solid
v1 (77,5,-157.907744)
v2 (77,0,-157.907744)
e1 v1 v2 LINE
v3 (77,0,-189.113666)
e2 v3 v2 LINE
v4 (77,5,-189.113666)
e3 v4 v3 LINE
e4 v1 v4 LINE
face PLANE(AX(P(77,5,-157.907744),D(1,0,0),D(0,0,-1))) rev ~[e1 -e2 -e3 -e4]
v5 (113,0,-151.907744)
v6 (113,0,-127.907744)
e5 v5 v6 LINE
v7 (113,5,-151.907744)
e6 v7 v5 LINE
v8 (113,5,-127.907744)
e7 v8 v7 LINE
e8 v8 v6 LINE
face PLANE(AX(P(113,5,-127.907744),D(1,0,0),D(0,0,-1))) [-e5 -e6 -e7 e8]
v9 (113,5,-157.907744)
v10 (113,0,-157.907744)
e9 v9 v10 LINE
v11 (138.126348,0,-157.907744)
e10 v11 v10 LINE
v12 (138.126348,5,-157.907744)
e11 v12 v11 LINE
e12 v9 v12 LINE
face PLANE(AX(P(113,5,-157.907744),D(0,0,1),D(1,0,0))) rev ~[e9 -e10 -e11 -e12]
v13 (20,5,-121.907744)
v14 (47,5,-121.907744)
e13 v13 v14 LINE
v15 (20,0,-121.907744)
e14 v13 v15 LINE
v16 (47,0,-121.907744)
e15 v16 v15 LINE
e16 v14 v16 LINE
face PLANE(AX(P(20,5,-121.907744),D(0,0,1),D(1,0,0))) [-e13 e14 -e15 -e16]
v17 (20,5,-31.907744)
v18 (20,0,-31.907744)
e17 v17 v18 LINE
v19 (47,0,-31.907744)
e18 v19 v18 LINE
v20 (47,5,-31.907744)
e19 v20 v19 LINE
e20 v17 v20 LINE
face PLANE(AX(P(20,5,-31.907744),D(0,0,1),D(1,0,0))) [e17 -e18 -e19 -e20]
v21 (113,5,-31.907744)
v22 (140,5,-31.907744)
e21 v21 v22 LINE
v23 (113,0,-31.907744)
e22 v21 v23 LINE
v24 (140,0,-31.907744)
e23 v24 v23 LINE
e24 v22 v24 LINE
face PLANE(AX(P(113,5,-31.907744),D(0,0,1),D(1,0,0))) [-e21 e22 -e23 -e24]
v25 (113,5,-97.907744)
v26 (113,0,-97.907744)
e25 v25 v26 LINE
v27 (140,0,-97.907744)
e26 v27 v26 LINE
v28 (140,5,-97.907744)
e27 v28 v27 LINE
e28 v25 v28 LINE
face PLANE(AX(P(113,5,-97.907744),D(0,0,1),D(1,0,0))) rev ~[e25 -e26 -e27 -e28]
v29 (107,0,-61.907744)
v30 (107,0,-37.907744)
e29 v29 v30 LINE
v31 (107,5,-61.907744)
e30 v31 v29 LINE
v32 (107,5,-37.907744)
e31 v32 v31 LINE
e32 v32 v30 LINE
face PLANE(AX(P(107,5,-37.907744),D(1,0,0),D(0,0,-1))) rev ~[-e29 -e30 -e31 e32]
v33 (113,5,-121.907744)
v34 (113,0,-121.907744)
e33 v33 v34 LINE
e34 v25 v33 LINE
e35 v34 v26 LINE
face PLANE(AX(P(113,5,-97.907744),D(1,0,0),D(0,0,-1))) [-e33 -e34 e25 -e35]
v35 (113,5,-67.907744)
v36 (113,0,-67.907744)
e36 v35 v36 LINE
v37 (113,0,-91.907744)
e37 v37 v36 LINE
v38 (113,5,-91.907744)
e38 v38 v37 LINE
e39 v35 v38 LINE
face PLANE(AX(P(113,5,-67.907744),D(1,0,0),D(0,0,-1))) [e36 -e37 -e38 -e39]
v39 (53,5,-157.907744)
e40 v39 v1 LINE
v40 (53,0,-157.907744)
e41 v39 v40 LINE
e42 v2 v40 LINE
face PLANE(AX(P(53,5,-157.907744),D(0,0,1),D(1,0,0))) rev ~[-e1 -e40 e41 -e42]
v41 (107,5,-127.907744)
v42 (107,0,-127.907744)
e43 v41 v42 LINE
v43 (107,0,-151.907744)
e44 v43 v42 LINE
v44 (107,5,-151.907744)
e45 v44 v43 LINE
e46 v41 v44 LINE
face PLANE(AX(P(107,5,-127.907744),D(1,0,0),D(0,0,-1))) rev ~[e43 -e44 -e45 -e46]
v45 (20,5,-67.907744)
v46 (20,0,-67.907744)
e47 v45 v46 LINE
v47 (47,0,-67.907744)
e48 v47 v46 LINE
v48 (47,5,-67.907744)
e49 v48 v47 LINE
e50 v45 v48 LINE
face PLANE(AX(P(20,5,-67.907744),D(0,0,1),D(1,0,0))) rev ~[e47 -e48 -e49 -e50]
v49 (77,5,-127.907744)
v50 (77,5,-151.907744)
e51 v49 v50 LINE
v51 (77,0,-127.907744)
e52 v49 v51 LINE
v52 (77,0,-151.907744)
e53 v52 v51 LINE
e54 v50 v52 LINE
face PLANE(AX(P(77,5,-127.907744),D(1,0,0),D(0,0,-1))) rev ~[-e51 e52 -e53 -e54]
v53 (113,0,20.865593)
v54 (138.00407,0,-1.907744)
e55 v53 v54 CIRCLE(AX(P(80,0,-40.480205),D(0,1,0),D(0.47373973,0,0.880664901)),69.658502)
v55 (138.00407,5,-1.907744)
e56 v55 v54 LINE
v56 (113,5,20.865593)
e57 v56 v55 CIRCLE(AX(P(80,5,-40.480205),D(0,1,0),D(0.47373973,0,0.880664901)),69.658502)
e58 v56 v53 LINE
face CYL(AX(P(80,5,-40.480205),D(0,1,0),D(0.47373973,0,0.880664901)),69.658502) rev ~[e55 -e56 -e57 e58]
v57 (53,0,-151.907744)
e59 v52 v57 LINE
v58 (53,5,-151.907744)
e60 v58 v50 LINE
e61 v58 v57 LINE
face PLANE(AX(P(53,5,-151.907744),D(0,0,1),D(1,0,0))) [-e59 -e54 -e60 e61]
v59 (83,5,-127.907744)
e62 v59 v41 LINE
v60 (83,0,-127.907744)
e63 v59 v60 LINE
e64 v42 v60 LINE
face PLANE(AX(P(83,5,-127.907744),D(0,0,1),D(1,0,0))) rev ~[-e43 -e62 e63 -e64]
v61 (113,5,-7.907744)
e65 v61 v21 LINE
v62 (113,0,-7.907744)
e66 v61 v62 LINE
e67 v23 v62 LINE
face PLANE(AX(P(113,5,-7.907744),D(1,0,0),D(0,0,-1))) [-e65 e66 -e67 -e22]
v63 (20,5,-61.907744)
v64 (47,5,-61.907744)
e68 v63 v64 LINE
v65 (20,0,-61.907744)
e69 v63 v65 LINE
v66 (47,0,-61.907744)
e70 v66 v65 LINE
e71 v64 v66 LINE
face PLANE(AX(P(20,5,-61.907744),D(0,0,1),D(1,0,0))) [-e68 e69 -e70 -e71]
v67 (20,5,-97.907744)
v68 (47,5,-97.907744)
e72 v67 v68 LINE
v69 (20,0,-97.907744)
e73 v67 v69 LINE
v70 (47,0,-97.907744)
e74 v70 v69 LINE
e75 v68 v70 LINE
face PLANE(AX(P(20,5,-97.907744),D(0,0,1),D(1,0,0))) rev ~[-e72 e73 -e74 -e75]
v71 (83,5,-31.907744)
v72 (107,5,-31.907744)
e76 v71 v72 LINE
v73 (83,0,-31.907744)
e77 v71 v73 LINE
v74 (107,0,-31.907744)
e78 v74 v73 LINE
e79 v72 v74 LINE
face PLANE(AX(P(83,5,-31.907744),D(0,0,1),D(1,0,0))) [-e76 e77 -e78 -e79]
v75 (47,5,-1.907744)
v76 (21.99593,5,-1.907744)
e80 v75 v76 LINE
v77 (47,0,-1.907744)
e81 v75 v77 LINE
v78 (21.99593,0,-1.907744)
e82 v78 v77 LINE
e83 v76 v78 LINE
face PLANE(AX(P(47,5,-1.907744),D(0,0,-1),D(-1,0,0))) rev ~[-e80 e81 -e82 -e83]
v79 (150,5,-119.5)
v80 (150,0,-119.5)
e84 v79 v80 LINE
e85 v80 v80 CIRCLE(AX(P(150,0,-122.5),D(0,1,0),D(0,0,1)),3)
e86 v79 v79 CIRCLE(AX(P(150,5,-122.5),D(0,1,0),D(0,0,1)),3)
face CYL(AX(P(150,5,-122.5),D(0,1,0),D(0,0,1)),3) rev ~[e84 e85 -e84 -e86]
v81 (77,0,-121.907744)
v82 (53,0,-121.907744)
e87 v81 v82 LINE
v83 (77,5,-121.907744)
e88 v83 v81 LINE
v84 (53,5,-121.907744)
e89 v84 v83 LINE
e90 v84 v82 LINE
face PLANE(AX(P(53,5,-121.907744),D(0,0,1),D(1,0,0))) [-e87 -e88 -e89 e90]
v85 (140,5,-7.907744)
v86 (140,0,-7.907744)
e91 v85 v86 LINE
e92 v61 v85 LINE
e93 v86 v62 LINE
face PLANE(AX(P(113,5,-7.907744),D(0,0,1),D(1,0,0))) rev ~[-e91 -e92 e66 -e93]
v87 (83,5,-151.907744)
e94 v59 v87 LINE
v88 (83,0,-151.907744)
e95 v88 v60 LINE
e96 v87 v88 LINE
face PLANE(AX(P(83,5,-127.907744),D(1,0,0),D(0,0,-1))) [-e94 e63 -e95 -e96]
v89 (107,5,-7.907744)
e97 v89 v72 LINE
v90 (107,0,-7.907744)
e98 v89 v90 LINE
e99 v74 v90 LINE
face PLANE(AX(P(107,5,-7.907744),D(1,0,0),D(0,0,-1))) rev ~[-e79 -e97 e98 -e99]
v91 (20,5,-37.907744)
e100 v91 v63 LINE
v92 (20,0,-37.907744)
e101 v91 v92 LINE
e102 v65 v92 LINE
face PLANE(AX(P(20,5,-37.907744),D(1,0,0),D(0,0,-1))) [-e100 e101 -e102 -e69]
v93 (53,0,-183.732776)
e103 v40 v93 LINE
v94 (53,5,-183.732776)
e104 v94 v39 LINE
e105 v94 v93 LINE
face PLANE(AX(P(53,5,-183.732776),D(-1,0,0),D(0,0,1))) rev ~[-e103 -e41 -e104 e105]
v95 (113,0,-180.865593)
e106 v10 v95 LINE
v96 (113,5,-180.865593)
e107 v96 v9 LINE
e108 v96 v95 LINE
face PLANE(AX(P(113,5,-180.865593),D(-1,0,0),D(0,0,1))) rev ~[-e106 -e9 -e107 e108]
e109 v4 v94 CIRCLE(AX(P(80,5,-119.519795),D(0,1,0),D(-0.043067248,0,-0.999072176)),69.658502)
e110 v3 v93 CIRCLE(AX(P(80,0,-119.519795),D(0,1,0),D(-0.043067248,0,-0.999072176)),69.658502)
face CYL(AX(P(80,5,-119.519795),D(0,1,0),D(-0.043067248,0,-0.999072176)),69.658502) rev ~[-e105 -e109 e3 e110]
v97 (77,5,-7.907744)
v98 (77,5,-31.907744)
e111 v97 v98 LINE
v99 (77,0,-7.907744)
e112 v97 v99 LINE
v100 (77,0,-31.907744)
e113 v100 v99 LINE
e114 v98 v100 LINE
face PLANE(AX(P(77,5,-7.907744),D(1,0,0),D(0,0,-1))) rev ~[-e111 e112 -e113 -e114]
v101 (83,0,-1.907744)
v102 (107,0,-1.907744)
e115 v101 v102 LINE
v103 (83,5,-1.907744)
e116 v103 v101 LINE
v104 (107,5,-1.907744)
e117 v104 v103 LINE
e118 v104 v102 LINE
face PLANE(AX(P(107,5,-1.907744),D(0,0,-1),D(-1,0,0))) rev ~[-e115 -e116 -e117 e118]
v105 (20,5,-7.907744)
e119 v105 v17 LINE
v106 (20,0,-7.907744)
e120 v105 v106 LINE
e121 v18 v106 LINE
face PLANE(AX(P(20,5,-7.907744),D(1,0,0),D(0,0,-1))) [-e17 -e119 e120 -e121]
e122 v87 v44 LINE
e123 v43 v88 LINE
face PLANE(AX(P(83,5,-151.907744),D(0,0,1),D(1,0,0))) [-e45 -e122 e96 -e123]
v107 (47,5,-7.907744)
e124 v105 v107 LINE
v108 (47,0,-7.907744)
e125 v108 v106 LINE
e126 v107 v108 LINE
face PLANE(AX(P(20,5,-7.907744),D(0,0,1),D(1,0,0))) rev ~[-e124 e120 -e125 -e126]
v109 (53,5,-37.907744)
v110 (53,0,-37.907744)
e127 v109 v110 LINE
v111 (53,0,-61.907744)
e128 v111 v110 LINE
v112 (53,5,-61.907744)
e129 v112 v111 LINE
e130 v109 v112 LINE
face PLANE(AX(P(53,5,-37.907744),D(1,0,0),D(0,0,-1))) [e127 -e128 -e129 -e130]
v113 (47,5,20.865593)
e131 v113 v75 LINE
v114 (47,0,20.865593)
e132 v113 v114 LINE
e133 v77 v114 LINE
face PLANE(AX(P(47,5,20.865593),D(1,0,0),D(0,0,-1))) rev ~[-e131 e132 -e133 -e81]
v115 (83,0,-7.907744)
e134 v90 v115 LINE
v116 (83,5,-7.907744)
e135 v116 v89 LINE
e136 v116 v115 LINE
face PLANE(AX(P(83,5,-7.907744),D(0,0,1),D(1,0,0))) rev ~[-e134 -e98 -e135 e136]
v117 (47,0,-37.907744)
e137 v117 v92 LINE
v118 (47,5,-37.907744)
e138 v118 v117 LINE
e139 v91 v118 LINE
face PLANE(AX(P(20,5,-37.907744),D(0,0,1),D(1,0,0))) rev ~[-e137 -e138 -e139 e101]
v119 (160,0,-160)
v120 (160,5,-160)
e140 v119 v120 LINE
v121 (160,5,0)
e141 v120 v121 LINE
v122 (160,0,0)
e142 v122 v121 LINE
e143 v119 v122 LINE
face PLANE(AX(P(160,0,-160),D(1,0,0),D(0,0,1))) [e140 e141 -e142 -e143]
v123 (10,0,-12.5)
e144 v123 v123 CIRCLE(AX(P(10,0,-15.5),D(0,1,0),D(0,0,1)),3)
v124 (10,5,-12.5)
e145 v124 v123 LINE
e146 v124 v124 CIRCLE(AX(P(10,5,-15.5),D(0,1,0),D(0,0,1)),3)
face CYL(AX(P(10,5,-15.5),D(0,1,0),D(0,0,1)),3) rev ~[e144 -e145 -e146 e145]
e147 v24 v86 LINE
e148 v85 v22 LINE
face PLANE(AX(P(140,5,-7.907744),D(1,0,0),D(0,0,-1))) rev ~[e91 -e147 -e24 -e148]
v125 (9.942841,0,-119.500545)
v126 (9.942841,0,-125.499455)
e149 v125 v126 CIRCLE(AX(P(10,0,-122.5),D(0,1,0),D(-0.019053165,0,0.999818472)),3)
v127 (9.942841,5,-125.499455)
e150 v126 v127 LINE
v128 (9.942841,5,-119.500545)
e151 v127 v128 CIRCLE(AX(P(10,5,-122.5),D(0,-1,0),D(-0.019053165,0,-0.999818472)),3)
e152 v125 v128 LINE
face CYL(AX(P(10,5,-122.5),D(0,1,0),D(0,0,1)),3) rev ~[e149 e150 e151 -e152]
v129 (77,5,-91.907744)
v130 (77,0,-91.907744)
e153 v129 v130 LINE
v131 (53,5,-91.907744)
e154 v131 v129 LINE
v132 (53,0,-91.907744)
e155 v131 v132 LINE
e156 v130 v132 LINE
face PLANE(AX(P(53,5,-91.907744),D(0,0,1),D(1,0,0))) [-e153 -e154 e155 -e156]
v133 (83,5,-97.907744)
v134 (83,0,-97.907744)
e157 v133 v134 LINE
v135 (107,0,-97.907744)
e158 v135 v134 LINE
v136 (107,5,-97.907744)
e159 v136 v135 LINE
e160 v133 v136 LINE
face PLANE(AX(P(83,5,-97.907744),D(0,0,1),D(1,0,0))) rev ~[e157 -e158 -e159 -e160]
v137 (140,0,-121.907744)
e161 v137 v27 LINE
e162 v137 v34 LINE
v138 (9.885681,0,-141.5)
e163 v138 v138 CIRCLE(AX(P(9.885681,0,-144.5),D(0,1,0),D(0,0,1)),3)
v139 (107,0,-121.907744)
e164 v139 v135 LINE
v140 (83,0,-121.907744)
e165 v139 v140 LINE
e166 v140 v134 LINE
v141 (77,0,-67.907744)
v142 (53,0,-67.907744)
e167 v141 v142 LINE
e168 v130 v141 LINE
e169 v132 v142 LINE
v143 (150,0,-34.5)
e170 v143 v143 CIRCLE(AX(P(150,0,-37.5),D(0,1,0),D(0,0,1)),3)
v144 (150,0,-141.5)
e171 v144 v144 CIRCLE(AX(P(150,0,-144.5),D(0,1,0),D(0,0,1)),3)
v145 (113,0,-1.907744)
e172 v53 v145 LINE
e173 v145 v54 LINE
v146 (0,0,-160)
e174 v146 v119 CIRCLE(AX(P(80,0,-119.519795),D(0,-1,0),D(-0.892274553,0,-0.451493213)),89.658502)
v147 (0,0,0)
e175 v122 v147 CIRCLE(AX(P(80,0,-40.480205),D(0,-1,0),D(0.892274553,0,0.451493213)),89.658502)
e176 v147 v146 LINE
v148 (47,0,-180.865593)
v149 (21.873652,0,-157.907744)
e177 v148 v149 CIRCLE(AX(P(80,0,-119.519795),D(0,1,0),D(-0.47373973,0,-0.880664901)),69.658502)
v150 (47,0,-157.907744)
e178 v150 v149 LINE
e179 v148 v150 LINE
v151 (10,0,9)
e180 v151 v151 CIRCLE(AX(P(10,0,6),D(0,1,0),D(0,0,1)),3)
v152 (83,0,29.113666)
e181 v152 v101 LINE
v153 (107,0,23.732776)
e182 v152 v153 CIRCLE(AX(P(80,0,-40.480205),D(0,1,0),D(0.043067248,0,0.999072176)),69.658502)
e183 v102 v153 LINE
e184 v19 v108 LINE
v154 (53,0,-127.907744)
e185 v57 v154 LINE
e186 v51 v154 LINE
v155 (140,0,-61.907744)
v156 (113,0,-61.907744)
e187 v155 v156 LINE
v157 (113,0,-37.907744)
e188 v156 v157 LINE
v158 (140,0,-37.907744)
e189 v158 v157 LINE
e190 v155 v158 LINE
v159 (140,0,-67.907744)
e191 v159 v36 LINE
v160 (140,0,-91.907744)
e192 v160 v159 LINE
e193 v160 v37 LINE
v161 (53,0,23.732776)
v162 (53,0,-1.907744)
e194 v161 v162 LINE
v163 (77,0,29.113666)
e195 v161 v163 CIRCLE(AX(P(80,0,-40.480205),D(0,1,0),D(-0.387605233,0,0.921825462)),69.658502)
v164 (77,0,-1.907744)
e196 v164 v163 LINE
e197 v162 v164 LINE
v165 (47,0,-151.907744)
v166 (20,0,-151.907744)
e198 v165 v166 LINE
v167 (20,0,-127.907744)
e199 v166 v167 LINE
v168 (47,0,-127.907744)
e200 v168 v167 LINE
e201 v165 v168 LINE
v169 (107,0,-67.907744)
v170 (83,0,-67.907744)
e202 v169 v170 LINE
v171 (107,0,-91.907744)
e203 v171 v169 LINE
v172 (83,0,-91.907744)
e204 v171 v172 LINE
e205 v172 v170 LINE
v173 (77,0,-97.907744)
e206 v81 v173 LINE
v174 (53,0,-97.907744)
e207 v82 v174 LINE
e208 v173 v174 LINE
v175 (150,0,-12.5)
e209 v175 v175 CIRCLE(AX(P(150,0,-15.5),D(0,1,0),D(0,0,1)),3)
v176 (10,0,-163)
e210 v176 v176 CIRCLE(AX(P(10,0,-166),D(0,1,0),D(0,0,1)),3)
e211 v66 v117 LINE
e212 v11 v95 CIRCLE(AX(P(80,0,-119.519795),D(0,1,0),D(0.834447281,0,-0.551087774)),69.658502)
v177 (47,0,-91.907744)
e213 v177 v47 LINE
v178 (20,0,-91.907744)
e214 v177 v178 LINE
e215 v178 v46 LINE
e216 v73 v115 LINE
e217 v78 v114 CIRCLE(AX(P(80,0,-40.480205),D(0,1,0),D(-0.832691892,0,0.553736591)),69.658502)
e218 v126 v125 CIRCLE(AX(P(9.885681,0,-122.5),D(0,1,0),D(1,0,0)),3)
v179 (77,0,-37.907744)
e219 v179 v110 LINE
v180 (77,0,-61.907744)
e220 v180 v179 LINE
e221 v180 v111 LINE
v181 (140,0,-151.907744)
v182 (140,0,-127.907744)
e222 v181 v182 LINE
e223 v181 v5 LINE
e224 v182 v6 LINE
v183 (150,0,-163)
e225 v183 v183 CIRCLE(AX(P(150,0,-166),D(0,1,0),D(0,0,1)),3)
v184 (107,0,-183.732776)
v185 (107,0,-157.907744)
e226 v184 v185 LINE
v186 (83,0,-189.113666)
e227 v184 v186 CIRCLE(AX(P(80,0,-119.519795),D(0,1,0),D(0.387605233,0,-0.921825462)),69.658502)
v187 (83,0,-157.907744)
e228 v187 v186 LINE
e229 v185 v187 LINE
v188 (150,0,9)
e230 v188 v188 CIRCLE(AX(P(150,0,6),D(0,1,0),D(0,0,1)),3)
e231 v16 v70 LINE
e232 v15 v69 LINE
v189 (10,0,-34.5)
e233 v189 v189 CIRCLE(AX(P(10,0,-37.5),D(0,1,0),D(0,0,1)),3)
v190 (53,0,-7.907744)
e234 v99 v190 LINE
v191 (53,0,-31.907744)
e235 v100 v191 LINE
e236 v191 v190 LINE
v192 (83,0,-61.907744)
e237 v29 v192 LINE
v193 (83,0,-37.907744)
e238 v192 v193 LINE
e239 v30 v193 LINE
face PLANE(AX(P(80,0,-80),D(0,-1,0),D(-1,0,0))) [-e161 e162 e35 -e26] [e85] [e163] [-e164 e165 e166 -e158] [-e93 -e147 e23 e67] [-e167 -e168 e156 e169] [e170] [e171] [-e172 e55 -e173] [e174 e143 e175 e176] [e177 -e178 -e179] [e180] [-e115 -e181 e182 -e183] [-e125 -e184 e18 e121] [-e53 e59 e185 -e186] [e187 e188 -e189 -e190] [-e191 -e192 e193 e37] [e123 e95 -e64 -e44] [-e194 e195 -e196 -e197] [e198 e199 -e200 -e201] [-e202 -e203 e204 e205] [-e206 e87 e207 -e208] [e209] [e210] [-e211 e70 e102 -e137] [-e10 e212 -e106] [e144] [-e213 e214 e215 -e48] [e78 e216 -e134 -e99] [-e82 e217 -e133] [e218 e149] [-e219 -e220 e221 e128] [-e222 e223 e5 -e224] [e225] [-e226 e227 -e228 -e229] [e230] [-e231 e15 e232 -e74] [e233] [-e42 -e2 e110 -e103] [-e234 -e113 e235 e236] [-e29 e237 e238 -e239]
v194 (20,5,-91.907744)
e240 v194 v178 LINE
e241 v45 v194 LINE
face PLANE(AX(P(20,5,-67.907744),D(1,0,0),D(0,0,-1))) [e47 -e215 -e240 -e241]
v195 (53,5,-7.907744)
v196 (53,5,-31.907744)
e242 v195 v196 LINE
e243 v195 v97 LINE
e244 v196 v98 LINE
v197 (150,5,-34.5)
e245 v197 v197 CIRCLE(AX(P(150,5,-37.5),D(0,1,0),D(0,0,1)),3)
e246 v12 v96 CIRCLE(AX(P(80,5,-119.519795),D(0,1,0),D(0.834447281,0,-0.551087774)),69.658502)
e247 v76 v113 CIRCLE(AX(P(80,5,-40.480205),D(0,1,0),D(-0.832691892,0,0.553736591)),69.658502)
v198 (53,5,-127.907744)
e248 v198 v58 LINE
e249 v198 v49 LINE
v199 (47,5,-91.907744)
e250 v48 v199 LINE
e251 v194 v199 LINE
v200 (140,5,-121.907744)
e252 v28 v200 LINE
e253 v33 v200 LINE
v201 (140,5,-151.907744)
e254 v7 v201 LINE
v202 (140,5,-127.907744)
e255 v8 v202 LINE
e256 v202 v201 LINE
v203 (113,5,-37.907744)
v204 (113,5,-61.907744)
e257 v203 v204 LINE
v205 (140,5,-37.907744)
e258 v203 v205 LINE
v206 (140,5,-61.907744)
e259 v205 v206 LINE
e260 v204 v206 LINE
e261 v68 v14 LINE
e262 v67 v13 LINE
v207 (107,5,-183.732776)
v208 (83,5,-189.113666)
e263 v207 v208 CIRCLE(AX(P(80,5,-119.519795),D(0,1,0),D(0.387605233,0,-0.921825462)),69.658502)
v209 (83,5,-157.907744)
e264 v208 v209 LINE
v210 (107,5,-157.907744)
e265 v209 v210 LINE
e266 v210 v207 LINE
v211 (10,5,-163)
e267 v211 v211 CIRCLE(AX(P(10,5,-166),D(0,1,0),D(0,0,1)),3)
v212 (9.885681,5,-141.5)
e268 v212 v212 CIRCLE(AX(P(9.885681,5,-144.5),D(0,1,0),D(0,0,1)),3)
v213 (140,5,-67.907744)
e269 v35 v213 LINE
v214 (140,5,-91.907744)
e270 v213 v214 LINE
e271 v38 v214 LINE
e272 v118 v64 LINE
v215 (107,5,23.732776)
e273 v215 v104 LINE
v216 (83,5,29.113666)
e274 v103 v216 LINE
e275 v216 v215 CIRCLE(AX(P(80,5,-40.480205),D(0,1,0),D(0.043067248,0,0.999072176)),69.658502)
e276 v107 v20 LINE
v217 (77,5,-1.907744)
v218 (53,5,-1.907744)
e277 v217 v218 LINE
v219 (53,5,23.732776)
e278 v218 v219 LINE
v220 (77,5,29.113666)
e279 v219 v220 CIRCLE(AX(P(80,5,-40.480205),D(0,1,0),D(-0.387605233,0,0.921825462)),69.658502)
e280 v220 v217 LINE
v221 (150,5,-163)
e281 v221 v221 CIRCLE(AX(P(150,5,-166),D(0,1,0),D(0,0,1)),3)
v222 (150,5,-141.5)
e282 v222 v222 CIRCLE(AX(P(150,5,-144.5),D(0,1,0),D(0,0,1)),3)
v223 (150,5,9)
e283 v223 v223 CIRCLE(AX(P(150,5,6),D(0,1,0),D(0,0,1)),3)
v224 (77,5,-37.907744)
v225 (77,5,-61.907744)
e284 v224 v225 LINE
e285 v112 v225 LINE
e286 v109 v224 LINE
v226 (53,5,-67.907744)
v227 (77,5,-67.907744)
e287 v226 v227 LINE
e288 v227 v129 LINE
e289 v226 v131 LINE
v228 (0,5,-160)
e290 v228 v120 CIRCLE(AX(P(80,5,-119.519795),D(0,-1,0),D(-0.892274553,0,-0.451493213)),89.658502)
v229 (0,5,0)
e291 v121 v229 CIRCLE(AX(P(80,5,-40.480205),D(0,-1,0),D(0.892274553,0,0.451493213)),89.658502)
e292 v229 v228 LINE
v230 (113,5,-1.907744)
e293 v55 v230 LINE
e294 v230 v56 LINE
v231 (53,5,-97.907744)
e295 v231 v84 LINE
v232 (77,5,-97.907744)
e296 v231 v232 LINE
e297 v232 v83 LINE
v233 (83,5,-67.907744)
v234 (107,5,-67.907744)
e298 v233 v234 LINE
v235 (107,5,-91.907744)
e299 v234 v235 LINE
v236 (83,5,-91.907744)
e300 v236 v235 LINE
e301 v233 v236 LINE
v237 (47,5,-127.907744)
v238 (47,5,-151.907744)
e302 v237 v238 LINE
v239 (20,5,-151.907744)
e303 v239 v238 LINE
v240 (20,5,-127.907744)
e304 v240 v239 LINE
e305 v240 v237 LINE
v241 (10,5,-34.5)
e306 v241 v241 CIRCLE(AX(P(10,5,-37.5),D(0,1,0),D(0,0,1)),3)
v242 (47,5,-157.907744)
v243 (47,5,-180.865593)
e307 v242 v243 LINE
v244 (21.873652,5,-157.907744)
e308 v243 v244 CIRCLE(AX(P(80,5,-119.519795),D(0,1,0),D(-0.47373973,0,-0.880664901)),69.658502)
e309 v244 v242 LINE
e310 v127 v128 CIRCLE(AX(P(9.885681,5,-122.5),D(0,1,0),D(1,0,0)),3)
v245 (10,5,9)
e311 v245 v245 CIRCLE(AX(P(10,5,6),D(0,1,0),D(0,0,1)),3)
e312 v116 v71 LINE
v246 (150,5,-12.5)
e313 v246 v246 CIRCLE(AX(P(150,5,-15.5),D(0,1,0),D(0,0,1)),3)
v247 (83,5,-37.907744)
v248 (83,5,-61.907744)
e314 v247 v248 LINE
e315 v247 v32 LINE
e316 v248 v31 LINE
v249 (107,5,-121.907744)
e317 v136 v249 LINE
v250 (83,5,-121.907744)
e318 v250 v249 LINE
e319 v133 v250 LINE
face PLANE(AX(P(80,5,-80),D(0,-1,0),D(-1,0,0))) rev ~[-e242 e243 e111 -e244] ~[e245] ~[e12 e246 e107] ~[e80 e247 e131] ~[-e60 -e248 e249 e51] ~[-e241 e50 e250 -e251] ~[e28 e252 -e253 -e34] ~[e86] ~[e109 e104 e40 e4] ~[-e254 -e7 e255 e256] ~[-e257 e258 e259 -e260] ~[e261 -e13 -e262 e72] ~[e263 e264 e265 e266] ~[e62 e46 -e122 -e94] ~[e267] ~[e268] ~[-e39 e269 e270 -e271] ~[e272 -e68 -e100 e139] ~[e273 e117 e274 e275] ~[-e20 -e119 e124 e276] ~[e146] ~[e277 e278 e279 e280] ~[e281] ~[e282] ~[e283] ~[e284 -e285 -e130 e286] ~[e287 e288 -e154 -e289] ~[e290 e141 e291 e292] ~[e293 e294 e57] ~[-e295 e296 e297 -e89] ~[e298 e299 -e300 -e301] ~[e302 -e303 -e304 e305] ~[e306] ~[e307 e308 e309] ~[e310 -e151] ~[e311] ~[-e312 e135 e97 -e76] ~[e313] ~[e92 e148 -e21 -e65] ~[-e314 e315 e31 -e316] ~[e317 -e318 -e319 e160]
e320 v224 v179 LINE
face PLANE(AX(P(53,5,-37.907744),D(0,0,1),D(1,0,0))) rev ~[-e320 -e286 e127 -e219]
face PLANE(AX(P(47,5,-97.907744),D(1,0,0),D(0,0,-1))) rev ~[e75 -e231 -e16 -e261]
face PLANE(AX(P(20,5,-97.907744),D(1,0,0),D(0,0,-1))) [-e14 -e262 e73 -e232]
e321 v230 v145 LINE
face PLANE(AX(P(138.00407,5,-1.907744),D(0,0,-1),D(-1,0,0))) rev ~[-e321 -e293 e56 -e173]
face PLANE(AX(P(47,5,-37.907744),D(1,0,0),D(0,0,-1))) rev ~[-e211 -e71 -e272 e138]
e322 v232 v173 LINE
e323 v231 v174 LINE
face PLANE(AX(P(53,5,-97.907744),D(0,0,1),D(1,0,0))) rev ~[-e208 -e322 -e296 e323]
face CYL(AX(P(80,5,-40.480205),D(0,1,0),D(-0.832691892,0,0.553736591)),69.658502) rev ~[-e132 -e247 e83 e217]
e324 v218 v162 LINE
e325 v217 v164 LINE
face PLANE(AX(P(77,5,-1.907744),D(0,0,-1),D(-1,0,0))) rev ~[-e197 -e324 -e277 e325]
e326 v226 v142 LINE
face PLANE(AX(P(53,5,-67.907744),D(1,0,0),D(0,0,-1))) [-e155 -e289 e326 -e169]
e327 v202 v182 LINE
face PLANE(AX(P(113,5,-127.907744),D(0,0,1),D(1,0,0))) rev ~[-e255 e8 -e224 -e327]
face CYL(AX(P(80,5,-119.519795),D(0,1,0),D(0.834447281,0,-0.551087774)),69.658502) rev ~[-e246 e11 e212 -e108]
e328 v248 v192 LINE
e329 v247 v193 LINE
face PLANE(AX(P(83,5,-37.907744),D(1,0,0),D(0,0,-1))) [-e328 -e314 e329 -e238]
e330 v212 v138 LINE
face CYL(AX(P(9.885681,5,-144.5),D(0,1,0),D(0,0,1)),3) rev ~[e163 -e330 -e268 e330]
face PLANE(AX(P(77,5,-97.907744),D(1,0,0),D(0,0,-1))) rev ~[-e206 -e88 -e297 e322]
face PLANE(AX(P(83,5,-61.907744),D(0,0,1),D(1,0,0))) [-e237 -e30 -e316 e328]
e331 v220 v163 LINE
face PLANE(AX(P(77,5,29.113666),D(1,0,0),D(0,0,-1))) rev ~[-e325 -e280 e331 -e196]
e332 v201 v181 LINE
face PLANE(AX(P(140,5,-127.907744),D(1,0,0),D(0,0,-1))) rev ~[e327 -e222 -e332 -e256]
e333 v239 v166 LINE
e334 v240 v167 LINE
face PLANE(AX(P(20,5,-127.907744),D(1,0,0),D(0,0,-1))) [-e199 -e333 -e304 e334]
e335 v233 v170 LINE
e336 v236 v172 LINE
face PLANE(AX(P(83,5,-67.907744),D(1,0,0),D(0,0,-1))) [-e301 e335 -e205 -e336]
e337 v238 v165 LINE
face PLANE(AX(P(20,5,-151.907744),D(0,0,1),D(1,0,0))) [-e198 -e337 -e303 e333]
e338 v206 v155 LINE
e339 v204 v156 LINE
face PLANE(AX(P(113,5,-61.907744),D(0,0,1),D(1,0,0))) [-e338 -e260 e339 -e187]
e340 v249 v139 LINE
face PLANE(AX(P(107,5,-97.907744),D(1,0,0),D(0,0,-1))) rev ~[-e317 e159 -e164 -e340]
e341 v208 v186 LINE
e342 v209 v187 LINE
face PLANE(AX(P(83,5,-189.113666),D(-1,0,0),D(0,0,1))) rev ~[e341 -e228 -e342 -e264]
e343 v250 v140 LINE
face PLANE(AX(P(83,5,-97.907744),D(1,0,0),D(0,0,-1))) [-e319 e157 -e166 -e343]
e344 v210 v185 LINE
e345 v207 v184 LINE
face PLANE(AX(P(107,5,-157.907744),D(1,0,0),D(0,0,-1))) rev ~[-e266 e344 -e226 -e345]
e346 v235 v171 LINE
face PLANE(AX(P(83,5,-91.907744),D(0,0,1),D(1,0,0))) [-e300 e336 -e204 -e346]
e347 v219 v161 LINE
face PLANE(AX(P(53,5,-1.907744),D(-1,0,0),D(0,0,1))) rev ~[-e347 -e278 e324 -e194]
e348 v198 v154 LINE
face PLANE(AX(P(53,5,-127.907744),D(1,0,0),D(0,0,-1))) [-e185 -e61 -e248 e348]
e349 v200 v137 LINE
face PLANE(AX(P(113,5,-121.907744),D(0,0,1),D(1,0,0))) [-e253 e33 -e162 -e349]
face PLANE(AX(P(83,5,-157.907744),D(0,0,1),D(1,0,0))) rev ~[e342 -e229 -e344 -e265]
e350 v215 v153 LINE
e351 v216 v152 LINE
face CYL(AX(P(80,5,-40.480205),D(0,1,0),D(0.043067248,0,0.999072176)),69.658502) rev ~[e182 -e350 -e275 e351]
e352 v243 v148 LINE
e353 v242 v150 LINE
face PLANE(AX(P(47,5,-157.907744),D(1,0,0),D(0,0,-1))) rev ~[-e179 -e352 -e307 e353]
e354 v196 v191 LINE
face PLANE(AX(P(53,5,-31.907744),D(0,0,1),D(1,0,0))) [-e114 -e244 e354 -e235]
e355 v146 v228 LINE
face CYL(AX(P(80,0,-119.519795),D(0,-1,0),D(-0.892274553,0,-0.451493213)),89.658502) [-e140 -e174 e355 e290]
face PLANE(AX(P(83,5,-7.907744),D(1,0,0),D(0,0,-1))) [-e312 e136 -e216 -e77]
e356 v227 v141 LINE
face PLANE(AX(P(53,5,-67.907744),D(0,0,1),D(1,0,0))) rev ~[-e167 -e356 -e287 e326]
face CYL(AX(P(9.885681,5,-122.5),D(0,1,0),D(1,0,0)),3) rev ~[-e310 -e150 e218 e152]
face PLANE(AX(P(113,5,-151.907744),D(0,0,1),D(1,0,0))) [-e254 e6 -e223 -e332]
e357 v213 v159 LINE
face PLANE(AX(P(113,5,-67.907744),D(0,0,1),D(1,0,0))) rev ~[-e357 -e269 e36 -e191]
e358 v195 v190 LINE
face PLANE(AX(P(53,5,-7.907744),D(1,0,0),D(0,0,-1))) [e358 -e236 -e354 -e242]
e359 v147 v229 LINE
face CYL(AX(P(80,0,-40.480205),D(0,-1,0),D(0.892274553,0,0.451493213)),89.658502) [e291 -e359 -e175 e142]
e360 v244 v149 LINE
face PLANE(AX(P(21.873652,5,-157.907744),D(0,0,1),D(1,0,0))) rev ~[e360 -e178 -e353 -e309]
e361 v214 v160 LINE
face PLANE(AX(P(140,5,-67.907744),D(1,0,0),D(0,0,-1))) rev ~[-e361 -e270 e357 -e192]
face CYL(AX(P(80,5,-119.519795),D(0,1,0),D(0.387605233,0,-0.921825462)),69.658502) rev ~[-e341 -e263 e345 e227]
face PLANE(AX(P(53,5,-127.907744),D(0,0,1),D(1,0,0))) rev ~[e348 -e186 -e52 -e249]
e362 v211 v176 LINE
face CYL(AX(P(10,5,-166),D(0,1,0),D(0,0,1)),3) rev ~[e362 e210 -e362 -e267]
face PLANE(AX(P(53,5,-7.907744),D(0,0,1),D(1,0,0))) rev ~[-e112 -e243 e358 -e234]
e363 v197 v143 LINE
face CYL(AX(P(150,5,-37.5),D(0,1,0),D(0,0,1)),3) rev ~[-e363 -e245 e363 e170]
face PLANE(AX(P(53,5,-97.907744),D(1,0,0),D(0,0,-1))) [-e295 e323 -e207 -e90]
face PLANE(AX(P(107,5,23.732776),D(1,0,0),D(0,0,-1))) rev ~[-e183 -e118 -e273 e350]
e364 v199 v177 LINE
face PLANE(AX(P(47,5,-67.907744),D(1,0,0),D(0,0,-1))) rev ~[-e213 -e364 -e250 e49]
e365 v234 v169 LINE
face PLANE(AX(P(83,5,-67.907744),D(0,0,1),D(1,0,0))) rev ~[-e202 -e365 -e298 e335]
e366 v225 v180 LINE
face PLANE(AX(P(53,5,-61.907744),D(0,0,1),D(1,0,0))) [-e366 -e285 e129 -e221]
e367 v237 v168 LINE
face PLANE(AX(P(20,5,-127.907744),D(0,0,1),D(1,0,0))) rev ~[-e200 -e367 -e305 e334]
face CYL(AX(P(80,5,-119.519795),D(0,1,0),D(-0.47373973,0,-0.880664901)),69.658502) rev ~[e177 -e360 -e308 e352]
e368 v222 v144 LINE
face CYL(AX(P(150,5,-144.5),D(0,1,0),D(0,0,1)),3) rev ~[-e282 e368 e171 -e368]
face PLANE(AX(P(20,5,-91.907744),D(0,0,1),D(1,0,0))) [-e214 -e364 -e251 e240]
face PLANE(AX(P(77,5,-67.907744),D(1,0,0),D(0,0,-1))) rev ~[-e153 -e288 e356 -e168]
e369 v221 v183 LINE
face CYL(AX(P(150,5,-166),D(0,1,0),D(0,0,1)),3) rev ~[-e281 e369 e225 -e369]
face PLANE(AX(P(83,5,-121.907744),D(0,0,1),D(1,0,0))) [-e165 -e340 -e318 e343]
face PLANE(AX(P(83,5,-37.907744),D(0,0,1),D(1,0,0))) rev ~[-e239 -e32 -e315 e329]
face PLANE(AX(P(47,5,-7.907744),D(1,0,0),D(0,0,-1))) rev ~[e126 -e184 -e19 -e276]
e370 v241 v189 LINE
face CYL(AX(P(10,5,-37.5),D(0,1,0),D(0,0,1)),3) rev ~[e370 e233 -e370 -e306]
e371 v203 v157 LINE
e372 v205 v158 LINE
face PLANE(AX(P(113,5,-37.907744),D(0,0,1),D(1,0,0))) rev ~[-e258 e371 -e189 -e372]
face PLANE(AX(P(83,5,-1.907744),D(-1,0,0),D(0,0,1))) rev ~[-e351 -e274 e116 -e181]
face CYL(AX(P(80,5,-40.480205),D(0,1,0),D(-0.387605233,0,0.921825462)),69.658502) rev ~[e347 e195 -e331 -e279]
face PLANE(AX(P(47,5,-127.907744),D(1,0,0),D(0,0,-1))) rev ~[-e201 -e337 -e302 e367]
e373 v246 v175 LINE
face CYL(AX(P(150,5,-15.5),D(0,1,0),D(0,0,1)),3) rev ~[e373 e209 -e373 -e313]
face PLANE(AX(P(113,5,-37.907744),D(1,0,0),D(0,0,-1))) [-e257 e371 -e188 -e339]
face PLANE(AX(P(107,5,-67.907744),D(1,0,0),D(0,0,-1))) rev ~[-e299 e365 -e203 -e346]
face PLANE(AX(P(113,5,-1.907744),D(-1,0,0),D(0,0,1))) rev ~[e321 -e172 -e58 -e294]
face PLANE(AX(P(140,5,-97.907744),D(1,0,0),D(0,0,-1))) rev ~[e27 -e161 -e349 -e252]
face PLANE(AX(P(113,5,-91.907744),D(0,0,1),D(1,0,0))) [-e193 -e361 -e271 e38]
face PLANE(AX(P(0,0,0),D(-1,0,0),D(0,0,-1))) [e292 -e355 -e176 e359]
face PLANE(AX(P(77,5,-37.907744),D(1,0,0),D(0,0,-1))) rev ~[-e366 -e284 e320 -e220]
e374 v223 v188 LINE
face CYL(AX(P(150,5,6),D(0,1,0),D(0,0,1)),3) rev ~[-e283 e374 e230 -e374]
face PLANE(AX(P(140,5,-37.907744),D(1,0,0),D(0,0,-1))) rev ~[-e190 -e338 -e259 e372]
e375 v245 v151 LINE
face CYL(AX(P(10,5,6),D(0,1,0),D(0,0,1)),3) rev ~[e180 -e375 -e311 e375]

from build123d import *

# Parameters (mm, degrees)
BOSS_EXTRUDE1_DEPTH = 5
SKETCH4_W           = 27
SKETCH4_H           = 24
SKETCH4_W_2         = 24
CUT_EXTRUDE1_DEPTH  = 6
SKETCH5_R           = 3
CUT_EXTRUDE2_DEPTH  = 44
SKETCH6_R           = 3
CUT_EXTRUDE3_DEPTH  = 70
SKETCH7_R           = 3
CUT_EXTRUDE4_DEPTH  = 95


with BuildPart() as part:
    # Sketch1 → Boss-Extrude1 (new body)
    with BuildSketch(Plane(origin=(0, 0, 0), x_dir=(1, 0, 0), z_dir=(0, 1, 0))):
        with BuildLine():
            Line((0, 0), (0, 160))
            ThreePointArc((0, 160), (80, 209.178296965), (160, 160))
            Line((160, 160), (160, 0))
            ThreePointArc((160, 0), (80, -49.178296965), (0, 0))
        make_face()
    extrude(amount=BOSS_EXTRUDE1_DEPTH)

    # Sketch4 → Cut-Extrude1 (cut)
    with BuildSketch(Plane(origin=(0, 5, 0), x_dir=(1, 0, 0), z_dir=(0, 1, 0))):
        with BuildLine():
            Line((21.873652217, 157.907743676), (47, 157.907743676))
            Line((47, 157.907743676), (47, 180.865592736))
            ThreePointArc((47, 180.865592736), (33.013102641, 170.944870409), (21.873652217, 157.907743676))
        make_face()
        with BuildLine():
            Line((53, 157.907743676), (77, 157.907743676))
            Line((77, 157.907743676), (77, 189.11366611))
            ThreePointArc((77, 189.11366611), (64.76062681, 187.490880041), (53, 183.732775763))
            Line((53, 183.732775763), (53, 157.907743676))
        make_face()
        with BuildLine():
            Line((83, 157.907743676), (107, 157.907743676))
            Line((107, 157.907743676), (107, 183.732775763))
            ThreePointArc((107, 183.732775763), (95.23937319, 187.490880041), (83, 189.11366611))
            Line((83, 189.11366611), (83, 157.907743676))
        make_face()
        with BuildLine():
            Line((113, 157.907743676), (138.126347783, 157.907743676))
            ThreePointArc((138.126347783, 157.907743676), (126.986897359, 170.944870409), (113, 180.865592736))
            Line((113, 180.865592736), (113, 157.907743676))
        make_face()
        with Locations((126.5, 139.907743676)):
            Rectangle(SKETCH4_W, SKETCH4_H)
        with Locations((95, 139.907743676)):
            Rectangle(SKETCH4_W_2, SKETCH4_H)
        with Locations((65, 139.907743676)):
            Rectangle(SKETCH4_W_2, SKETCH4_H)
        with Locations((33.5, 139.907743676)):
            Rectangle(SKETCH4_W, SKETCH4_H)
        with Locations((33.5, 109.907743676)):
            Rectangle(SKETCH4_W, SKETCH4_H)
        with Locations((65, 109.907743676)):
            Rectangle(SKETCH4_W_2, SKETCH4_H)
        with Locations((95, 109.907743676)):
            Rectangle(SKETCH4_W_2, SKETCH4_H)
        with Locations((126.5, 109.907743676)):
            Rectangle(SKETCH4_W, SKETCH4_H)
        with Locations((126.5, 79.907743676)):
            Rectangle(SKETCH4_W, SKETCH4_H)
        with Locations((95, 79.907743676)):
            Rectangle(SKETCH4_W_2, SKETCH4_H)
        with Locations((65, 79.907743676)):
            Rectangle(SKETCH4_W_2, SKETCH4_H)
        with Locations((33.5, 79.907743676)):
            Rectangle(SKETCH4_W, SKETCH4_H)
        with Locations((33.5, 49.907743676)):
            Rectangle(SKETCH4_W, SKETCH4_H)
        with Locations((65, 49.907743676)):
            Rectangle(SKETCH4_W_2, SKETCH4_H)
        with Locations((95, 49.907743676)):
            Rectangle(SKETCH4_W_2, SKETCH4_H)
        with Locations((126.5, 49.907743676)):
            Rectangle(SKETCH4_W, SKETCH4_H)
        with Locations((126.5, 19.907743676)):
            Rectangle(SKETCH4_W, SKETCH4_H)
        with Locations((95, 19.907743676)):
            Rectangle(SKETCH4_W_2, SKETCH4_H)
        with Locations((65, 19.907743676)):
            Rectangle(SKETCH4_W_2, SKETCH4_H)
        with Locations((33.5, 19.907743676)):
            Rectangle(SKETCH4_W, SKETCH4_H)
        with BuildLine():
            Line((47, -20.865592736), (47, 1.907743676))
            Line((47, 1.907743676), (21.995929992, 1.907743676))
            ThreePointArc((21.995929992, 1.907743676), (33.09486806, -11.019460066), (47, -20.865592736))
        make_face()
        with BuildLine():
            Line((77, -29.11366611), (77, 1.907743676))
            Line((77, 1.907743676), (53, 1.907743676))
            Line((53, 1.907743676), (53, -23.732775763))
            ThreePointArc((53, -23.732775763), (64.76062681, -27.490880041), (77, -29.11366611))
        make_face()
        with BuildLine():
            Line((107, -23.732775763), (107, 1.907743676))
            Line((107, 1.907743676), (83, 1.907743676))
            Line((83, 1.907743676), (83, -29.11366611))
            ThreePointArc((83, -29.11366611), (95.23937319, -27.490880041), (107, -23.732775763))
        make_face()
        with BuildLine():
            ThreePointArc((113, -20.865592736), (126.90513194, -11.019460066), (138.004070008, 1.907743676))
            Line((138.004070008, 1.907743676), (113, 1.907743676))
            Line((113, 1.907743676), (113, -20.865592736))
        make_face()
    extrude(amount=-CUT_EXTRUDE1_DEPTH, mode=Mode.SUBTRACT)

    # Sketch5 → Cut-Extrude2 (cut)
    with BuildSketch(Plane(origin=(0, 5, 0), x_dir=(1, 0, 0), z_dir=(0, 1, 0))):
        with Locations(Location((10, 37.5, 0), (0, 0, 270))):
            Circle(SKETCH5_R)
        with Locations(Location((150, 37.5, 0), (0, 0, 270))):
            Circle(SKETCH5_R)
        with Locations(Location((150, 122.5, 0), (0, 0, 270))):
            Circle(SKETCH5_R)
        with Locations(Location((10, 122.5, 0), (0, 0, 270))):
            Circle(SKETCH5_R)
    extrude(amount=-CUT_EXTRUDE2_DEPTH, mode=Mode.SUBTRACT)

    # Sketch6 → Cut-Extrude3 (cut)
    with BuildSketch(Plane(origin=(0, 5, 0), x_dir=(1, 0, 0), z_dir=(0, 1, 0))):
        with Locations(Location((9.88568101, 144.5, 0), (0, 0, 270))):
            Circle(SKETCH6_R)
        with Locations((9.88568101, 122.5)):
            Circle(SKETCH6_R)
        with Locations(Location((10, 15.5, 0), (0, 0, 270))):
            Circle(SKETCH6_R)
        with Locations(Location((150, 144.5, 0), (0, 0, 270))):
            Circle(SKETCH6_R)
        with Locations(Location((150, 15.5, 0), (0, 0, 270))):
            Circle(SKETCH6_R)
    extrude(amount=-CUT_EXTRUDE3_DEPTH, mode=Mode.SUBTRACT)

    # Sketch7 → Cut-Extrude4 (cut)
    with BuildSketch(Plane(origin=(0, 5, 0), x_dir=(1, 0, 0), z_dir=(0, 1, 0))):
        with Locations(Location((10, 166, 0), (0, 0, 270))):
            Circle(SKETCH7_R)
        with Locations(Location((150, 166, 0), (0, 0, 270))):
            Circle(SKETCH7_R)
        with Locations(Location((150, -6, 0), (0, 0, 270))):
            Circle(SKETCH7_R)
        with Locations(Location((10, -6, 0), (0, 0, 270))):
            Circle(SKETCH7_R)
    extrude(amount=-CUT_EXTRUDE4_DEPTH, mode=Mode.SUBTRACT)


solid = part.part
